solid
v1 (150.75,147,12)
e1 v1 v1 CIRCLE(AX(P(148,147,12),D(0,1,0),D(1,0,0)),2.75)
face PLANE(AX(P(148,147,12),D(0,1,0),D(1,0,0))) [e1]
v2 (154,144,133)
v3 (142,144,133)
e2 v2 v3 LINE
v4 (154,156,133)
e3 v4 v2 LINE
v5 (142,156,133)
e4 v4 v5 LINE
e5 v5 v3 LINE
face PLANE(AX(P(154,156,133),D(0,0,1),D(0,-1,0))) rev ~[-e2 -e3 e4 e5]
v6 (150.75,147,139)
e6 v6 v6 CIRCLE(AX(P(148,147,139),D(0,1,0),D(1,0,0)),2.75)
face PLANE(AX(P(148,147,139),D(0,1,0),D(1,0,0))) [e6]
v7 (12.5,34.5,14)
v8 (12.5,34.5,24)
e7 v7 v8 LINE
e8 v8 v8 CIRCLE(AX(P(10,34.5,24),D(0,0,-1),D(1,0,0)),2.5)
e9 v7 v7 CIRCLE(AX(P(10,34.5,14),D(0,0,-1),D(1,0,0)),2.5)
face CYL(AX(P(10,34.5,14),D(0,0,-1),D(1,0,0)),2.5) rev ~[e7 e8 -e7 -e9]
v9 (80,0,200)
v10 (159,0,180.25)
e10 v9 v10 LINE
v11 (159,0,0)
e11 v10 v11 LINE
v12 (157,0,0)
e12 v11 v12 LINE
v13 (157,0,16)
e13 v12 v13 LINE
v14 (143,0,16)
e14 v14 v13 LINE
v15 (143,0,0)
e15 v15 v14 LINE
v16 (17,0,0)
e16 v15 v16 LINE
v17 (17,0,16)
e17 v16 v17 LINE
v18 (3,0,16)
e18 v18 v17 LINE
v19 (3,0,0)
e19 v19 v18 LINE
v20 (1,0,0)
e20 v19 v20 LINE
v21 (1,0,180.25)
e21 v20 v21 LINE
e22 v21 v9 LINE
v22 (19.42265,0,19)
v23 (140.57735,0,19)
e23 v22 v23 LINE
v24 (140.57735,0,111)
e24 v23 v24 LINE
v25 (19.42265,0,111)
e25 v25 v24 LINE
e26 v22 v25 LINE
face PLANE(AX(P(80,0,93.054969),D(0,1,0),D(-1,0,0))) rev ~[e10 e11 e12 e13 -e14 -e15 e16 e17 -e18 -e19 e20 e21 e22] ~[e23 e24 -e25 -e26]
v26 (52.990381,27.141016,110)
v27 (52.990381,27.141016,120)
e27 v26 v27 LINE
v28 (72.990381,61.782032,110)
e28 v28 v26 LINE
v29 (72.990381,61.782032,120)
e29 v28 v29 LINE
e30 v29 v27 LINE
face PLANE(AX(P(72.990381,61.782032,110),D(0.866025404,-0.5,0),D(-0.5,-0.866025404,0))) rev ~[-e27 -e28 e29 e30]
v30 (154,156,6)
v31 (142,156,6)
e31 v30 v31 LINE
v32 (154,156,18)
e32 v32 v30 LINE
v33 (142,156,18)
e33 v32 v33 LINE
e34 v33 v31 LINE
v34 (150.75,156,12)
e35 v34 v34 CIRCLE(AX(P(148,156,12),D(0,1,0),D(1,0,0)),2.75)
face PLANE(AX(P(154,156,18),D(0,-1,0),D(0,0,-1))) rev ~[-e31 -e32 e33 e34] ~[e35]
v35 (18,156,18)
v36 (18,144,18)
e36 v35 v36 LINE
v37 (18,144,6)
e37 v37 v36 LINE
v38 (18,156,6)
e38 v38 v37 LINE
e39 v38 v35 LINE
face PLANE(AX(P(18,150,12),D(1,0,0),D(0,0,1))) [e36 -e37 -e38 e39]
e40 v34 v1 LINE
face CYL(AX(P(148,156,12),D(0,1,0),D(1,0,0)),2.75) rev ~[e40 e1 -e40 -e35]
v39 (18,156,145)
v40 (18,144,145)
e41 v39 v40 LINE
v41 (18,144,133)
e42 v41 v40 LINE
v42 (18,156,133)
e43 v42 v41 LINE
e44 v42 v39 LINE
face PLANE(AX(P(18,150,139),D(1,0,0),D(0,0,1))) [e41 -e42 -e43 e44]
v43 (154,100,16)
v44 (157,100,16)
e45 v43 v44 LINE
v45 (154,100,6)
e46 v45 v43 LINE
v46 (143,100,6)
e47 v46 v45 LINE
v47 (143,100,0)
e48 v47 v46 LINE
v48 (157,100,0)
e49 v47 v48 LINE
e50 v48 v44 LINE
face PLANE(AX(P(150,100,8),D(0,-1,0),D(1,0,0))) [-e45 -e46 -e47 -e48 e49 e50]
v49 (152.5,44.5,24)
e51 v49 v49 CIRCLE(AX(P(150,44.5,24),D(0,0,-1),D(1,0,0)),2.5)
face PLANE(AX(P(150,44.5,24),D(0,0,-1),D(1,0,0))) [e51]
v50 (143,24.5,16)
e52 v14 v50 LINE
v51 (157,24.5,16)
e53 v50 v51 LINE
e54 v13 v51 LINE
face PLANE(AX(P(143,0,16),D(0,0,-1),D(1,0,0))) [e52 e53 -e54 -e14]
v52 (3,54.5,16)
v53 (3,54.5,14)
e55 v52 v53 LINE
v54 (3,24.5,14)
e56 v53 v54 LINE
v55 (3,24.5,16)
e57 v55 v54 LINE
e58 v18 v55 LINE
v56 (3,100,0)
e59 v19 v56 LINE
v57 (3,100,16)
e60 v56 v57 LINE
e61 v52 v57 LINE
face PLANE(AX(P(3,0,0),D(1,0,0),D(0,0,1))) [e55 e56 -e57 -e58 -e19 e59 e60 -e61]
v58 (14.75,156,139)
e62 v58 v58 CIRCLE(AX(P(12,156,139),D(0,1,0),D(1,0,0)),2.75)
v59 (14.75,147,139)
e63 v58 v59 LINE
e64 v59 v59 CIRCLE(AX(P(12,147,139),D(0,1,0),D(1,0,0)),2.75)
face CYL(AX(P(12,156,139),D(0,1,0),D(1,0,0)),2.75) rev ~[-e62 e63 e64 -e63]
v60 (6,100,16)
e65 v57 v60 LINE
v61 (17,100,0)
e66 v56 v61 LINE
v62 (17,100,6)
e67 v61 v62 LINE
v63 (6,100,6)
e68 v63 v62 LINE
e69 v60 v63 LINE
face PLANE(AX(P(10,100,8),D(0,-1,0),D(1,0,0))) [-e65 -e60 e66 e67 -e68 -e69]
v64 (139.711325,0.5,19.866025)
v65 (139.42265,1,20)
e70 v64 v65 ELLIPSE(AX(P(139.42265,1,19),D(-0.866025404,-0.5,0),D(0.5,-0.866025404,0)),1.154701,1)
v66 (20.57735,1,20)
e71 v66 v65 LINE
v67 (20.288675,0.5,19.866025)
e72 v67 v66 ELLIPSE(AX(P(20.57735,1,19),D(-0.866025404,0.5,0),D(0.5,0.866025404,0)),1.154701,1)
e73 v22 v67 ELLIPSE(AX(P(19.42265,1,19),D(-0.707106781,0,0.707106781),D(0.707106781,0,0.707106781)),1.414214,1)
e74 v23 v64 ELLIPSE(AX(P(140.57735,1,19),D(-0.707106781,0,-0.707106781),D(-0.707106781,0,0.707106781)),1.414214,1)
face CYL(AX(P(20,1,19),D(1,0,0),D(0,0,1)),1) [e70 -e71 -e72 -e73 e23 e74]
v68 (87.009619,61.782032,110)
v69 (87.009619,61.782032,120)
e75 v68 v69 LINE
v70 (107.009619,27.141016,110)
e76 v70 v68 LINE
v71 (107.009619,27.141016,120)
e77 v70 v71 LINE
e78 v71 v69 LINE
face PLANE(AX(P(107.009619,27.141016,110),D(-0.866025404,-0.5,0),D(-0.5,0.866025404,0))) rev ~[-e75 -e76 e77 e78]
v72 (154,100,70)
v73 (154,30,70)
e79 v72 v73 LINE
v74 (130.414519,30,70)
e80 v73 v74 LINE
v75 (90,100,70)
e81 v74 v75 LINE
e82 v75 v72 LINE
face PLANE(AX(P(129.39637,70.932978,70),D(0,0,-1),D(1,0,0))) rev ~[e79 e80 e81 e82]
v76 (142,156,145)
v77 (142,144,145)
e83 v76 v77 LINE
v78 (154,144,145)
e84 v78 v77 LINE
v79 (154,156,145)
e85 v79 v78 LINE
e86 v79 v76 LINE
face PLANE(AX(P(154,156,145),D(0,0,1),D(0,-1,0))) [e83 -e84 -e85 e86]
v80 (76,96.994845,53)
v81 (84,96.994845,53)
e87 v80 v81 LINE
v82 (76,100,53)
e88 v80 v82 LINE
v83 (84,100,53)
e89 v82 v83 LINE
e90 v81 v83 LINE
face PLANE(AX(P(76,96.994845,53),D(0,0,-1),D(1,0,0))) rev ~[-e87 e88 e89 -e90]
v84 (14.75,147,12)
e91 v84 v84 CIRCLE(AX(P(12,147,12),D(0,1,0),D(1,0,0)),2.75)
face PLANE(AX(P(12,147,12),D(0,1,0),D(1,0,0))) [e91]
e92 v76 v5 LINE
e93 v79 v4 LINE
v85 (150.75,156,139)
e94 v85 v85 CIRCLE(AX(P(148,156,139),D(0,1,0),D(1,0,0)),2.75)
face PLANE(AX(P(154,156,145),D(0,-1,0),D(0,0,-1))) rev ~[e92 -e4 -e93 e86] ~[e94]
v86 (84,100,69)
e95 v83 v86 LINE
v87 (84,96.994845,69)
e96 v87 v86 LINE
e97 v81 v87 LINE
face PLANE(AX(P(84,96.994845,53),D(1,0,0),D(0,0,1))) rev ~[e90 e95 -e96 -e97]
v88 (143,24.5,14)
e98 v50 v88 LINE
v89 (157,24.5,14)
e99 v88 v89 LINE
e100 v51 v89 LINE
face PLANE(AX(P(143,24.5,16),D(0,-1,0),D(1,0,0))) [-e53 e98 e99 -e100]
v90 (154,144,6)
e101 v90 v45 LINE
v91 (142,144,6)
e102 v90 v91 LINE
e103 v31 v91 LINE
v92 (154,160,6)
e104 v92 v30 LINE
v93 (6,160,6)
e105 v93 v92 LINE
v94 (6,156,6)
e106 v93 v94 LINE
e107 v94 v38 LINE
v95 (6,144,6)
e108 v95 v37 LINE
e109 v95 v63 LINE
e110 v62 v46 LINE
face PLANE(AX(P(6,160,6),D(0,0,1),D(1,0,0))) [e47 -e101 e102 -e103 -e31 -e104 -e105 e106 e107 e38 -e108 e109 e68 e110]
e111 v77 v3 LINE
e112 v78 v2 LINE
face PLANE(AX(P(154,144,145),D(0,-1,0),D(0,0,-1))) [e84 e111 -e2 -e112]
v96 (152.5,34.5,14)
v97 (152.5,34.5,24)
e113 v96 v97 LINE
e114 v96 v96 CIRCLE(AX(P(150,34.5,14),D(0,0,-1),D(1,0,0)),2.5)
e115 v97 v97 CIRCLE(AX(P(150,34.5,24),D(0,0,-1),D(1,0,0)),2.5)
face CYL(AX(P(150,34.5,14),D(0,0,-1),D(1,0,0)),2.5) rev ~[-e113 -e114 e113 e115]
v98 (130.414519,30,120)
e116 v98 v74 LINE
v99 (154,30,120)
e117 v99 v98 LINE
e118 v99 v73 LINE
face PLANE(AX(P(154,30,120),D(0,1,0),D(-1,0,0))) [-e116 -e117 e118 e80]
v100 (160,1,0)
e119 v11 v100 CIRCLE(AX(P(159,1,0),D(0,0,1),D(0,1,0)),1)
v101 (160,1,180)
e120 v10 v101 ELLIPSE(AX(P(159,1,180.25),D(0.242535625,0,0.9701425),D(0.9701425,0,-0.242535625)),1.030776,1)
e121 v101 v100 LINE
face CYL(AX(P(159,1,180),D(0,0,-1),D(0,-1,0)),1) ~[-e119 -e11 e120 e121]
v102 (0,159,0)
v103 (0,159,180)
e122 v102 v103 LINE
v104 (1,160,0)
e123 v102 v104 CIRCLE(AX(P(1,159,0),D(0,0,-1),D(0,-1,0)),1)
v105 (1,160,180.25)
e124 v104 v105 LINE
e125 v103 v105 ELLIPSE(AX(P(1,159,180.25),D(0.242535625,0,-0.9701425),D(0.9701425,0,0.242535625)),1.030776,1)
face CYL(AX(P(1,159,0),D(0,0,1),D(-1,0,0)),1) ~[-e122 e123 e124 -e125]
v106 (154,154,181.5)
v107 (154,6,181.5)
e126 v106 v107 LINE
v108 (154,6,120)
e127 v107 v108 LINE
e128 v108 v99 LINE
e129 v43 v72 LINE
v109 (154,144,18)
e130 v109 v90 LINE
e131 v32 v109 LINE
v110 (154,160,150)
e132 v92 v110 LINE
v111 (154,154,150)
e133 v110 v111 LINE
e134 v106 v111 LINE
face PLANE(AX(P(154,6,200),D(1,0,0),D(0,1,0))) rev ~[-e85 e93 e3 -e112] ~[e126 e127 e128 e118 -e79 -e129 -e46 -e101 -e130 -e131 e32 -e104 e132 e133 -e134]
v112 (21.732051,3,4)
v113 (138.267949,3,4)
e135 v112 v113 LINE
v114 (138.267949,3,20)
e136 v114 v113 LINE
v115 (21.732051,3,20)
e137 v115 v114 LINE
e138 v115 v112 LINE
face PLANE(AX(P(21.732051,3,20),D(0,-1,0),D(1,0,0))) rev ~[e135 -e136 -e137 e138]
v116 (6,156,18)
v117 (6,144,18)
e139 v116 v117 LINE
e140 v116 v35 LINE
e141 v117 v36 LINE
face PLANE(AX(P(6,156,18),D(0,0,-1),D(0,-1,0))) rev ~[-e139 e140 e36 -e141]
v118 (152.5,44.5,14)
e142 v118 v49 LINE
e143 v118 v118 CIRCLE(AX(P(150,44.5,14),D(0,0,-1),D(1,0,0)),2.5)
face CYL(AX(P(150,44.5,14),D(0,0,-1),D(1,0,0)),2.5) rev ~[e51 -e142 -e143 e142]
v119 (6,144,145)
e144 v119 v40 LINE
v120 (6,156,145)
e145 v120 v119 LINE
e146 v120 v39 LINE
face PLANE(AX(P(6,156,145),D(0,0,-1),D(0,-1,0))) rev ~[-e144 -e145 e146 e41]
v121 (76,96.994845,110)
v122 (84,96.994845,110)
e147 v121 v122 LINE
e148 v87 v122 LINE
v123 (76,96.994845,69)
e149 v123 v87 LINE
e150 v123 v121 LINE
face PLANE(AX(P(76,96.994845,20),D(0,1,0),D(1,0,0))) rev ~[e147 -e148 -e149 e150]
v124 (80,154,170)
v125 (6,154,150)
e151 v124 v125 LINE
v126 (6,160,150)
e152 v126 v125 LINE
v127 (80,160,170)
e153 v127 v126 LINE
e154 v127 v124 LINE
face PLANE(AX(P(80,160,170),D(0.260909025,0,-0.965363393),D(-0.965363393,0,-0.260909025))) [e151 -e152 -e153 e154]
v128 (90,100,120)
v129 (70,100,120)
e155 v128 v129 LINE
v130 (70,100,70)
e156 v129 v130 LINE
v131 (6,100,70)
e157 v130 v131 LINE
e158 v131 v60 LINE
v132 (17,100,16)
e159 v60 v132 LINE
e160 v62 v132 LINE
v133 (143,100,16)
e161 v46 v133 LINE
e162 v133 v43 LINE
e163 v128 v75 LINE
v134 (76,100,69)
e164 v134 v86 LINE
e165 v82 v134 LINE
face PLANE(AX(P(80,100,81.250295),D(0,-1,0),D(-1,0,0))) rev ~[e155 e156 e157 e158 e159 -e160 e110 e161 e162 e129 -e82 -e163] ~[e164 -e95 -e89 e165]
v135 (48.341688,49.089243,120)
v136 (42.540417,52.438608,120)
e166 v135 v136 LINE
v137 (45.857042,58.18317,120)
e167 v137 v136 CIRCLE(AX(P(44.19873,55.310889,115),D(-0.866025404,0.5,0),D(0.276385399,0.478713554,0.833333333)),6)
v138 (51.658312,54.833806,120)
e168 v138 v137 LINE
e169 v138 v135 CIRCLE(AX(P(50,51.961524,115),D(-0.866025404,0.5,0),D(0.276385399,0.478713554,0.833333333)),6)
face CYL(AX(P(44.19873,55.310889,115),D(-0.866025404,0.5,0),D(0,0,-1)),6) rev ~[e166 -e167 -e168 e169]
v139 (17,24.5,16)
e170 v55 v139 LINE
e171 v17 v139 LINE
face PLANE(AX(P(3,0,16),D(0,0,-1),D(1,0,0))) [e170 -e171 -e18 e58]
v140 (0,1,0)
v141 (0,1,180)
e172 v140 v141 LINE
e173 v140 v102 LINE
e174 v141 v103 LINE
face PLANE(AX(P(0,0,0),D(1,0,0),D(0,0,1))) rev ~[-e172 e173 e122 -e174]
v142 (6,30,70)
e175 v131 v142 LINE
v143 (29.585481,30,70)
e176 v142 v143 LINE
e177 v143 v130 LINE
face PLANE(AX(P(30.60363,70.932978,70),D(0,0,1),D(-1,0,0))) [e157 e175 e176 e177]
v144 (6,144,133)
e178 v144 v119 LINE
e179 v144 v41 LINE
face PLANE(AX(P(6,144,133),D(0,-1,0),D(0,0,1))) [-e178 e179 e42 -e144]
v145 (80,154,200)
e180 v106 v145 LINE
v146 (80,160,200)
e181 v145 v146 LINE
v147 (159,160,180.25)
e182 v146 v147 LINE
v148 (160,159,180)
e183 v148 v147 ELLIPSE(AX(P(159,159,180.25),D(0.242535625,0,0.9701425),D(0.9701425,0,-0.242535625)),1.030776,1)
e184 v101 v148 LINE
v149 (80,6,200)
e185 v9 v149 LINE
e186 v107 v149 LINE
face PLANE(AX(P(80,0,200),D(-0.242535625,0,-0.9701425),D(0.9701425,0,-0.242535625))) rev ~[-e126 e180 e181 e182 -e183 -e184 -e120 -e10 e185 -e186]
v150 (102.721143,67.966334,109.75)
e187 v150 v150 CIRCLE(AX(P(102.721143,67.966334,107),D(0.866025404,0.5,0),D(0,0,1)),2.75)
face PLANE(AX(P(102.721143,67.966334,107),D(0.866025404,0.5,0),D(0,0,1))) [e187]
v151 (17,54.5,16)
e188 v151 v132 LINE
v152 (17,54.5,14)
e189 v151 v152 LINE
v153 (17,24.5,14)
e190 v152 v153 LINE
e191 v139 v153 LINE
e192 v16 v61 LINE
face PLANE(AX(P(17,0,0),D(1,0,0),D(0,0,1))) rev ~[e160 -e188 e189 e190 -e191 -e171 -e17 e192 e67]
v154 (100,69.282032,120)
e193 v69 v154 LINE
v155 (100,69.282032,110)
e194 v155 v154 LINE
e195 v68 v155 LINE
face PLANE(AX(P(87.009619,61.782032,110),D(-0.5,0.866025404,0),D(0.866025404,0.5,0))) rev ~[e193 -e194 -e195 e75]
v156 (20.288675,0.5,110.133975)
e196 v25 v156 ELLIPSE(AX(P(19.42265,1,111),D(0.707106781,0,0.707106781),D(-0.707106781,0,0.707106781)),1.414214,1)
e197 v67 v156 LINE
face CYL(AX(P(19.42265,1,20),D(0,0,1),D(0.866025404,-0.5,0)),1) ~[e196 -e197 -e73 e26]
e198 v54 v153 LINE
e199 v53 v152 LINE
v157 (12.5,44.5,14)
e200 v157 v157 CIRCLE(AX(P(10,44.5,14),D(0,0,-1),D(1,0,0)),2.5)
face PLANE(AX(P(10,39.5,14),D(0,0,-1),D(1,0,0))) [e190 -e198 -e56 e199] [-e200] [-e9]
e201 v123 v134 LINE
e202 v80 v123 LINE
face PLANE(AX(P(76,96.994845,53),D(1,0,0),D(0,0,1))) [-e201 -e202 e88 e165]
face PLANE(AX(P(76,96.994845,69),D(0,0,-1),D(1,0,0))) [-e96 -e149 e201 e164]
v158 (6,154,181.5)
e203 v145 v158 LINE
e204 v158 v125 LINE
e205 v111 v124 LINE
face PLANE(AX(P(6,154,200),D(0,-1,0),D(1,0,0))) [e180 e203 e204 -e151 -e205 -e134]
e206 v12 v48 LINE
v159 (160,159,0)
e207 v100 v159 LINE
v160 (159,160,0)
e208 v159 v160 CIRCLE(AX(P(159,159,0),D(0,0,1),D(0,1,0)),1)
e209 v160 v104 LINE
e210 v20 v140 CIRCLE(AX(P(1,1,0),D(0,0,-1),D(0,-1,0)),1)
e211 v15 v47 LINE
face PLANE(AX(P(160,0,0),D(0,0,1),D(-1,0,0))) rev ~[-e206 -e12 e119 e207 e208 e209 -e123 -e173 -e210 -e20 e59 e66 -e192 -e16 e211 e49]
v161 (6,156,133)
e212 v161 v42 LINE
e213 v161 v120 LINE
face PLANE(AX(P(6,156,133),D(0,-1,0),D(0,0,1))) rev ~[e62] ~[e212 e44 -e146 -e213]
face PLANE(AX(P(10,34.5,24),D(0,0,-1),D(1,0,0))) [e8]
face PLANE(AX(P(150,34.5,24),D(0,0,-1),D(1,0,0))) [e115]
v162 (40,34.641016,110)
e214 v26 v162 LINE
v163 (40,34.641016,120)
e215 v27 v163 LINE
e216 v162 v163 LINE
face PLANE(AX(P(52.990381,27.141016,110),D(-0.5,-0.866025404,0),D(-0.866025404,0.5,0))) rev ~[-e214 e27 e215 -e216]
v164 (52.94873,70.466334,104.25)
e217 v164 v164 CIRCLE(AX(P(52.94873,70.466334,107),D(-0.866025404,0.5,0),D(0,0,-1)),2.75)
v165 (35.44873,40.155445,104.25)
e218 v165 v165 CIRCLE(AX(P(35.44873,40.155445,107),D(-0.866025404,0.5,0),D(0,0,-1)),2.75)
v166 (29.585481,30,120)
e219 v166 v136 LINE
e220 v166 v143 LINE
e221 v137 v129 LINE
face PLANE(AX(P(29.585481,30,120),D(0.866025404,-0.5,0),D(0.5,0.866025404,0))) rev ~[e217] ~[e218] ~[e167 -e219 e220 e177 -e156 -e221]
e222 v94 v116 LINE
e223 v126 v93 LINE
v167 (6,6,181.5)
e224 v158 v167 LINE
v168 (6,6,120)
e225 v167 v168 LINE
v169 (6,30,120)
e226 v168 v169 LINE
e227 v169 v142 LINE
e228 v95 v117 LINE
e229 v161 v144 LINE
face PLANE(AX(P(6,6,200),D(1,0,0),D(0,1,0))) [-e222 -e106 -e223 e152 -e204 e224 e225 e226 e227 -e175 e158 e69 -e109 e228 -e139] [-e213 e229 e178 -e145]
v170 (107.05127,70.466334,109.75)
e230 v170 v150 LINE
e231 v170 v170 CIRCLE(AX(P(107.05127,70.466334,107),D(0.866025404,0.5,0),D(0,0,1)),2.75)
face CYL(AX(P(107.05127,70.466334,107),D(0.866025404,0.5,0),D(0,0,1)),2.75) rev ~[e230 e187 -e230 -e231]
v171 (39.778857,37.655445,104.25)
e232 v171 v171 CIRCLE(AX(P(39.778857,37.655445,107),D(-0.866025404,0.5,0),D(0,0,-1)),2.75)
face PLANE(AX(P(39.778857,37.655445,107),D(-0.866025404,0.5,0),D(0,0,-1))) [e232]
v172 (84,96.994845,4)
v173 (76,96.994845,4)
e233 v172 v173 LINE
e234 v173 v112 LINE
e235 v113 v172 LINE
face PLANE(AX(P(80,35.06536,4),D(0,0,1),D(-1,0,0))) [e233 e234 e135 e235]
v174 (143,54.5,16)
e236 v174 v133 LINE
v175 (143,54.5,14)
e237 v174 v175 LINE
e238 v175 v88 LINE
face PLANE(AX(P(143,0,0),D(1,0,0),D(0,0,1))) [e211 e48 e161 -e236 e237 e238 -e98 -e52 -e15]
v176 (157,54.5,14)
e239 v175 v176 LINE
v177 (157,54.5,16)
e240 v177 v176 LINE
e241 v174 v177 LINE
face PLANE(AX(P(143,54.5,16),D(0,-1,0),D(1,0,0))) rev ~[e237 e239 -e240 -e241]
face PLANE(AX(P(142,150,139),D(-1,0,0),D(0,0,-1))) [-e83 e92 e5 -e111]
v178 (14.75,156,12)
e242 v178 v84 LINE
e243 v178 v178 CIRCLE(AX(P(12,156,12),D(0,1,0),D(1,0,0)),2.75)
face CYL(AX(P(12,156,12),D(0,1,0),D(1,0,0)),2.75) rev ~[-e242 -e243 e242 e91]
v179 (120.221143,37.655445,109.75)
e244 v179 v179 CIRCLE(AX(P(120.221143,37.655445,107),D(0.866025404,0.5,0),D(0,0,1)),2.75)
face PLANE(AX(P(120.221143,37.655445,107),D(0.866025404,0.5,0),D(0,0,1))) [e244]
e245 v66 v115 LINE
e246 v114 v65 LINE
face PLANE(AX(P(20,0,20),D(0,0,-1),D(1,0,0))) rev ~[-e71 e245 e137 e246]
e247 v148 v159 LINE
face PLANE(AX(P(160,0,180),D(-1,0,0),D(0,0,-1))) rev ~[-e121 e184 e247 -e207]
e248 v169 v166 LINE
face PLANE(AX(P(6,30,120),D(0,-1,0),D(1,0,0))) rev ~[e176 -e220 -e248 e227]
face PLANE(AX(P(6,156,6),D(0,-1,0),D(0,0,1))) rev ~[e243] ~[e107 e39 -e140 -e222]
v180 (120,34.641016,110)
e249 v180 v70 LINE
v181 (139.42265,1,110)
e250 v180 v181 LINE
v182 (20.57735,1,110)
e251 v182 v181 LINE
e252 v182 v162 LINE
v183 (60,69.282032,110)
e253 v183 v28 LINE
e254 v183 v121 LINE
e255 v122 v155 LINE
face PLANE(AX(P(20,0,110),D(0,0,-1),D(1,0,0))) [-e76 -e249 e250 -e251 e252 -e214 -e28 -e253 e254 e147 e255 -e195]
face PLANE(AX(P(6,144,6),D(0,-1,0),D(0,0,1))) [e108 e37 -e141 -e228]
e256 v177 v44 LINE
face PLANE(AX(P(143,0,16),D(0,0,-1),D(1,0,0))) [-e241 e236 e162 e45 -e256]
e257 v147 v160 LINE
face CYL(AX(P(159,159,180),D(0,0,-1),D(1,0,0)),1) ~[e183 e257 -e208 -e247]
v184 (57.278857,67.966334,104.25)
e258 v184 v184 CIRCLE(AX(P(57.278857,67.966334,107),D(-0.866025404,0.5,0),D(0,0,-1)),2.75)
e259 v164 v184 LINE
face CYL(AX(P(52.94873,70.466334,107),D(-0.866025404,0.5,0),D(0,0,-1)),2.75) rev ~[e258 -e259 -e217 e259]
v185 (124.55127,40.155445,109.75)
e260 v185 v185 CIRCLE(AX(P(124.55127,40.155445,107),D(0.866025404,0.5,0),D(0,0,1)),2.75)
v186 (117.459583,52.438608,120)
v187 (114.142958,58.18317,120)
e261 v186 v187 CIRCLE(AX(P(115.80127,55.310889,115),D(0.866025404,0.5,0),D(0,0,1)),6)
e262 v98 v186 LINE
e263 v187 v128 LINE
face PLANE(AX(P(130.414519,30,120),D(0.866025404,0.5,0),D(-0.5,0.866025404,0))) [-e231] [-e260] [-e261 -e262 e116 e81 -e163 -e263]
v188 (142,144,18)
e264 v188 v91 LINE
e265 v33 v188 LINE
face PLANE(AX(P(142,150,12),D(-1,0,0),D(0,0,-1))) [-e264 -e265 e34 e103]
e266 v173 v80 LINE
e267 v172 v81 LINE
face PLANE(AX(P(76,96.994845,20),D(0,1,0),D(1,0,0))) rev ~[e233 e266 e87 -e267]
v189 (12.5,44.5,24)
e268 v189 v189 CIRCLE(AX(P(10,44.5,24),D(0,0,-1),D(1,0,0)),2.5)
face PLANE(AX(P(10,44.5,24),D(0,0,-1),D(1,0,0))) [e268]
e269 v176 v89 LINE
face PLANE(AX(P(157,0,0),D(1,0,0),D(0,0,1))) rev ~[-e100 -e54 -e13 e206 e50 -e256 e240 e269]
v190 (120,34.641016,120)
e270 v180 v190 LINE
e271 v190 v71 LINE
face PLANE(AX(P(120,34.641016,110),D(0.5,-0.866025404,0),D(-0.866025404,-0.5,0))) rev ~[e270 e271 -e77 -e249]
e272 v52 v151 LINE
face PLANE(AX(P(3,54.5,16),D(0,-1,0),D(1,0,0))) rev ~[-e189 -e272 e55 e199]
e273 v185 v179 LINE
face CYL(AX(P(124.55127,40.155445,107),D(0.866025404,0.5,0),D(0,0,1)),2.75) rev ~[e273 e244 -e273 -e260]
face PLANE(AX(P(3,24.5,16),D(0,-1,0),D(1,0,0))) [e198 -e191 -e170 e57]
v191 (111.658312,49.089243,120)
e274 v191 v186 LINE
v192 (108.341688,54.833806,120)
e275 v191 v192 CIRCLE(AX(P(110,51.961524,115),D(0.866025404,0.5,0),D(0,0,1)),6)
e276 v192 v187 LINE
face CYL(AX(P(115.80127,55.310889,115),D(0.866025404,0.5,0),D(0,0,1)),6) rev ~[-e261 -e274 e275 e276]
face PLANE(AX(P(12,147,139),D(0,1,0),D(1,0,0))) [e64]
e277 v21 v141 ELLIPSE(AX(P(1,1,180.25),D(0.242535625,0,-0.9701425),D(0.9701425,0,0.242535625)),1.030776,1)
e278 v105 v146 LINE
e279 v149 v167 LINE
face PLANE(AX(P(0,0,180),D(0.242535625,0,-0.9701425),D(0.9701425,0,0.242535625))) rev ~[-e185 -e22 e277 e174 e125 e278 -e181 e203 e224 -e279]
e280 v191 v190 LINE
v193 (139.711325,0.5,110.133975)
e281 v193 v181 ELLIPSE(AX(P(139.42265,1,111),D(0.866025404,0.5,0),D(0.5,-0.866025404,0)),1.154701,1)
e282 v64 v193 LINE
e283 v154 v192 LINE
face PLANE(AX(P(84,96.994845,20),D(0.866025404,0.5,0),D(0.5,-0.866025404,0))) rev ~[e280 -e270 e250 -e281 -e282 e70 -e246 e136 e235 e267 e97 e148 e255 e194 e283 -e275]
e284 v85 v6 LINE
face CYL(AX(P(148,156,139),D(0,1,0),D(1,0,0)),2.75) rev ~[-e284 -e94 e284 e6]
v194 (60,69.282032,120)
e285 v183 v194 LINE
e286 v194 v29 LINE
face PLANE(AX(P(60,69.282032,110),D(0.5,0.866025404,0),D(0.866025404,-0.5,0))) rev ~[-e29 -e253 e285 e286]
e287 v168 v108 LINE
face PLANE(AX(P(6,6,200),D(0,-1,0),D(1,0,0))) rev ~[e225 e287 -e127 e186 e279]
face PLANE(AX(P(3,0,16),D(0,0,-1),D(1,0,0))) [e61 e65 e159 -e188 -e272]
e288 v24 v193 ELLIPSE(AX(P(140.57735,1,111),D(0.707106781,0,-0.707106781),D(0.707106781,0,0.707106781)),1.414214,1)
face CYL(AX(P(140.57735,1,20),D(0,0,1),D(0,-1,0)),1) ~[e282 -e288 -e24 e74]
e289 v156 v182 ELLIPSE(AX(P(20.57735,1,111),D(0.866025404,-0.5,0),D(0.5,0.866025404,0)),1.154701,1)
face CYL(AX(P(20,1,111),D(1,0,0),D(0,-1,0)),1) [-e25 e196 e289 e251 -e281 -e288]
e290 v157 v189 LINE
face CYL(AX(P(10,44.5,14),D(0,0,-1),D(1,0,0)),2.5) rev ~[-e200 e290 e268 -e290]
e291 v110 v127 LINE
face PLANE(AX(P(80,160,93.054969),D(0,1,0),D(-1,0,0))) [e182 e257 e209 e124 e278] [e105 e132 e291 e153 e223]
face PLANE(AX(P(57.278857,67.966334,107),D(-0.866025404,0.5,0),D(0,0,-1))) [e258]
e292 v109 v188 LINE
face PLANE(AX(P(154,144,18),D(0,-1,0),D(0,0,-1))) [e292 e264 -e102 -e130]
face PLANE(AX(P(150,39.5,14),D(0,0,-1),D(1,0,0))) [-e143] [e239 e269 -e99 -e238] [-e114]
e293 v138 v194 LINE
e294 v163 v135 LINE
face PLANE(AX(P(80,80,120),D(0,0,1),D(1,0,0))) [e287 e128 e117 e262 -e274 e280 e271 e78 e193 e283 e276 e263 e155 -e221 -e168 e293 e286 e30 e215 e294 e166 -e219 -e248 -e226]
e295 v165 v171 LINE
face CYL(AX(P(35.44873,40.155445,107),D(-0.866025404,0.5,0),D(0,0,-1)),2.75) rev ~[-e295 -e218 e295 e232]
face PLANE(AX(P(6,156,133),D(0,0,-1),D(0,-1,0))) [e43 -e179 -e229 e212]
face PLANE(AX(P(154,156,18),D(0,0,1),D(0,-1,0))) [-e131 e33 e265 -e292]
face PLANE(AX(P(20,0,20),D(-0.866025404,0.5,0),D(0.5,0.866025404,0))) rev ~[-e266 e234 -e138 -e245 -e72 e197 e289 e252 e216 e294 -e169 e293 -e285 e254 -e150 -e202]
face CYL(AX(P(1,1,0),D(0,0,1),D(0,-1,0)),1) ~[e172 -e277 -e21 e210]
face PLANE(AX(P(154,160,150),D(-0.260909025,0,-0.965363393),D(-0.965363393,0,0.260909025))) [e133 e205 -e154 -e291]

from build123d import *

# Parameters (mm, degrees)
PAD_DEPTH       = 160
SKETCH001_W     = 120
SKETCH001_H     = 90
POCKET_DEPTH    = 100
PAD001_DEPTH    = 90
POCKET001_DEPTH = 16
POCKET002_DEPTH = 60
SKETCH006_W     = 148
SKETCH006_H     = 148
POCKET004_DEPTH = 80
SKETCH007_W     = 14
SKETCH007_H     = 16
SKETCH007_W_2   = 14.0000000001
SKETCH007_H_2   = 15.9999999999
POCKET005_DEPTH = 100
SKETCH008_W     = 14
SKETCH008_H     = 30
SKETCH008_W_2   = 14.0000000001
SKETCH008_H_2   = 29.9999999999
PAD002_DEPTH    = 2
POCKET008_DEPTH = 10
POCKET009_DEPTH = 50
SKETCH009_R     = 2.5
POCKET010_DEPTH = 10
SKETCH005_W     = 8
SKETCH005_H     = 16
POCKET011_DEPTH = 5
SKETCH012_R     = 6
POCKET012_DEPTH = 10
SKETCH013_R     = 2.75
POCKET013_DEPTH = 5
SKETCH015_R     = 6
POCKET014_DEPTH = 10
SKETCH016_R     = 2.75
POCKET015_DEPTH = 5
SKETCH017_W     = 12
SKETCH017_H     = 12
PAD003_DEPTH    = 12
SKETCH018_W     = 12
SKETCH018_H     = 12
PAD004_DEPTH    = 12
SKETCH019_R     = 2.75
POCKET016_DEPTH = 9
FILLET_R        = 1


with BuildPart() as part:
    # Sketch → Pad (new body)
    with BuildSketch(Plane.XZ):
        Polygon((0, 0), (0, 180), (80, 200), (160, 180), (160, 0), align=None)
    extrude(amount=-PAD_DEPTH)

    # Sketch001 (on Face6 of Pad) → Pocket (cut)
    with BuildSketch(Plane.XZ):
        with Locations((80, 65)):
            Rectangle(SKETCH001_W, SKETCH001_H)
    extrude(amount=-POCKET_DEPTH, mode=Mode.SUBTRACT)

    # Sketch002 (on Face10 of Pocket) → Pad001 (join)
    with BuildSketch(Plane(origin=(0, 0, 20), x_dir=(-1, 0, 0), z_dir=(0, 0, 1))):
        Polygon((-20, 0), (-76, -96.9948452239), (-84, -96.9948452239), (-140, 0), (-140, -100), (-20, -100), align=None)
    extrude(amount=PAD001_DEPTH)

    # Sketch003 (on Face10 of Pad001) → Pocket001 (cut)
    with BuildSketch(Plane(origin=(0, 0, 20), x_dir=(-1, 0, 0), z_dir=(0, 0, 1))):
        Polygon((-21.7320508076, -3), (-138.2679491924, -3), (-84, -96.9948452239), (-76, -96.9948452239), align=None)
    extrude(amount=-POCKET001_DEPTH, mode=Mode.SUBTRACT)

    # Sketch004 (on Face5 of Pocket001) → Pocket002 (cut)
    with BuildSketch(Plane(origin=(0, 160, 0), x_dir=(1, 0, 0), z_dir=(0, 1, 0))):
        Polygon((6, -150), (6, -6), (154, -6), (154, -150), (80, -170), align=None)
    extrude(amount=-POCKET002_DEPTH, mode=Mode.SUBTRACT)

    # Sketch006 → Pocket004 (cut)
    with BuildSketch(Plane.XY.offset(200)):
        with Locations((80, 80)):
            Rectangle(SKETCH006_W, SKETCH006_H)
    extrude(amount=-POCKET004_DEPTH, mode=Mode.SUBTRACT)

    # Sketch007 (on Face4 of Pocket004) → Pocket005 (cut)
    with BuildSketch(Plane.XZ):
        with Locations((10, 8)):
            Rectangle(SKETCH007_W, SKETCH007_H)
        with Locations((150, 8)):
            Rectangle(SKETCH007_W_2, SKETCH007_H_2)
    extrude(amount=-POCKET005_DEPTH, mode=Mode.SUBTRACT)

    # Sketch008 (on Face17 of Pocket005) → Pad002 (join)
    with BuildSketch(Plane(origin=(0, 0, 16), x_dir=(1, 0, 0), z_dir=(0, 0, -1))):
        with Locations((10, -39.5)):
            Rectangle(SKETCH008_W, SKETCH008_H)
        with Locations((150, -39.5)):
            Rectangle(SKETCH008_W_2, SKETCH008_H_2)
    extrude(amount=PAD002_DEPTH)

    # Sketch010 → Pocket008 (cut)
    with BuildSketch(Plane(origin=(0, 0, 110), x_dir=(1, 0, 0), z_dir=(0, 0, -1))):
        Polygon((40, -34.6410161514), (60, -69.2820323028), (72.9903810568, -61.7820323028), (52.9903810568, -27.1410161514), align=None)
        Polygon((107.0096189432, -27.1410161514), (87.0096189432, -61.7820323028), (100, -69.2820323028), (120, -34.6410161514), align=None)
    extrude(amount=-POCKET008_DEPTH, mode=Mode.SUBTRACT)

    # Sketch011 (on Face39 of Pocket008) → Pocket009 (cut)
    with BuildSketch(Plane(origin=(0, 0, 120), x_dir=(-1, 0, 0), z_dir=(0, 0, 1))):
        Polygon((-130.4145188433, -30), (-90, -100), (-154, -100), (-154, -30), align=None)
        Polygon((-29.5854811567, -30), (-70, -100), (-6, -100), (-6, -30), align=None)
    extrude(amount=-POCKET009_DEPTH, mode=Mode.SUBTRACT)

    # Sketch009 (on Face29 of Pocket009) → Pocket010 (cut)
    with BuildSketch(Plane(origin=(0, 0, 14), x_dir=(1, 0, 0), z_dir=(0, 0, -1))):
        with Locations((10, -34.5)):
            Circle(SKETCH009_R)
        with Locations((10, -44.5)):
            Circle(SKETCH009_R)
        with Locations((150, -34.5)):
            Circle(SKETCH009_R)
        with Locations((150, -44.5)):
            Circle(SKETCH009_R)
    extrude(amount=-POCKET010_DEPTH, mode=Mode.SUBTRACT)

    # Sketch005 (on Face44 of Pocket009) → Pocket011 (cut)
    with BuildSketch(Plane.XZ.offset(-96.9948452239)):
        with Locations((80, 61)):
            Rectangle(SKETCH005_W, SKETCH005_H)
    extrude(amount=-POCKET011_DEPTH, mode=Mode.SUBTRACT)

    # Sketch012 (on Face61 of Pocket011) → Pocket012 (cut)
    with BuildSketch(Plane(origin=(9.1987298108, -5.3108891325, 0), x_dir=(0, 0, -1), z_dir=(-0.8660254038, 0.5, 0))):
        with Locations((-115, -70)):
            Circle(SKETCH012_R)
    extrude(amount=-POCKET012_DEPTH, mode=Mode.SUBTRACT)

    # Sketch013 (on Face64 of Pocket012) → Pocket013 (cut)
    with BuildSketch(Plane(origin=(9.1987298108, -5.3108891325, 0), x_dir=(0, 0, -1), z_dir=(-0.8660254038, 0.5, 0))):
        with Locations((-107, -52.5)):
            Circle(SKETCH013_R)
        with Locations((-107, -87.5)):
            Circle(SKETCH013_R)
    extrude(amount=-POCKET013_DEPTH, mode=Mode.SUBTRACT)

    # Sketch015 (on Face65 of Pocket013) → Pocket014 (cut)
    with BuildSketch(Plane(origin=(110.8012701892, 63.9711431703, 0), x_dir=(0, 0, 1), z_dir=(0.8660254038, 0.5, 0))):
        with Locations((115, 10)):
            Circle(SKETCH015_R)
    extrude(amount=-POCKET014_DEPTH, mode=Mode.SUBTRACT)

    # Sketch016 (on Face67 of Pocket014) → Pocket015 (cut)
    with BuildSketch(Plane(origin=(110.8012701892, 63.9711431703, 0), x_dir=(0, 0, 1), z_dir=(0.8660254038, 0.5, 0))):
        with Locations((107, 27.5)):
            Circle(SKETCH016_R)
        with Locations((107, -7.5)):
            Circle(SKETCH016_R)
    extrude(amount=-POCKET015_DEPTH, mode=Mode.SUBTRACT)

    # Sketch017 (on Face25 of Pocket015) → Pad003 (join)
    with BuildSketch(Plane(origin=(154, 0, 0), x_dir=(0, 0, -1), z_dir=(-1, 0, 0))):
        with Locations((-12, -150)):
            Rectangle(SKETCH017_W, SKETCH017_H)
        with Locations((-139, -150)):
            Rectangle(SKETCH017_W, SKETCH017_H)
    extrude(amount=PAD003_DEPTH)

    # Sketch018 (on Face27 of Pad003) → Pad004 (join)
    with BuildSketch(Plane(origin=(6, 0, 0), x_dir=(0, 0, 1), z_dir=(1, 0, 0))):
        with Locations((12, -150)):
            Rectangle(SKETCH018_W, SKETCH018_H)
        with Locations((139, -150)):
            Rectangle(SKETCH018_W, SKETCH018_H)
    extrude(amount=PAD004_DEPTH)

    # Sketch019 (on Face68 of Pad004) → Pocket016 (cut)
    with BuildSketch(Plane(origin=(0, 156, 0), x_dir=(1, 0, 0), z_dir=(0, 1, 0))):
        with Locations((148, -12)):
            Circle(SKETCH019_R)
        with Locations((148, -139)):
            Circle(SKETCH019_R)
        with Locations((12, -139)):
            Circle(SKETCH019_R)
        with Locations((12, -12)):
            Circle(SKETCH019_R)
    extrude(amount=-POCKET016_DEPTH, mode=Mode.SUBTRACT)

    # Fillet
    fillet_edges = [part.edges().sort_by_distance(p)[0] for p in [
        (0, 160, 90),
        (0, 0, 90),
        (160, 0, 90),
        (80, 0, 20),
        (20, 0, 65),
        (80, 0, 110),
        (140, 0, 65),
        (160, 160, 90),
    ]]
    fillet(fillet_edges, radius=FILLET_R)


solid = part.part
